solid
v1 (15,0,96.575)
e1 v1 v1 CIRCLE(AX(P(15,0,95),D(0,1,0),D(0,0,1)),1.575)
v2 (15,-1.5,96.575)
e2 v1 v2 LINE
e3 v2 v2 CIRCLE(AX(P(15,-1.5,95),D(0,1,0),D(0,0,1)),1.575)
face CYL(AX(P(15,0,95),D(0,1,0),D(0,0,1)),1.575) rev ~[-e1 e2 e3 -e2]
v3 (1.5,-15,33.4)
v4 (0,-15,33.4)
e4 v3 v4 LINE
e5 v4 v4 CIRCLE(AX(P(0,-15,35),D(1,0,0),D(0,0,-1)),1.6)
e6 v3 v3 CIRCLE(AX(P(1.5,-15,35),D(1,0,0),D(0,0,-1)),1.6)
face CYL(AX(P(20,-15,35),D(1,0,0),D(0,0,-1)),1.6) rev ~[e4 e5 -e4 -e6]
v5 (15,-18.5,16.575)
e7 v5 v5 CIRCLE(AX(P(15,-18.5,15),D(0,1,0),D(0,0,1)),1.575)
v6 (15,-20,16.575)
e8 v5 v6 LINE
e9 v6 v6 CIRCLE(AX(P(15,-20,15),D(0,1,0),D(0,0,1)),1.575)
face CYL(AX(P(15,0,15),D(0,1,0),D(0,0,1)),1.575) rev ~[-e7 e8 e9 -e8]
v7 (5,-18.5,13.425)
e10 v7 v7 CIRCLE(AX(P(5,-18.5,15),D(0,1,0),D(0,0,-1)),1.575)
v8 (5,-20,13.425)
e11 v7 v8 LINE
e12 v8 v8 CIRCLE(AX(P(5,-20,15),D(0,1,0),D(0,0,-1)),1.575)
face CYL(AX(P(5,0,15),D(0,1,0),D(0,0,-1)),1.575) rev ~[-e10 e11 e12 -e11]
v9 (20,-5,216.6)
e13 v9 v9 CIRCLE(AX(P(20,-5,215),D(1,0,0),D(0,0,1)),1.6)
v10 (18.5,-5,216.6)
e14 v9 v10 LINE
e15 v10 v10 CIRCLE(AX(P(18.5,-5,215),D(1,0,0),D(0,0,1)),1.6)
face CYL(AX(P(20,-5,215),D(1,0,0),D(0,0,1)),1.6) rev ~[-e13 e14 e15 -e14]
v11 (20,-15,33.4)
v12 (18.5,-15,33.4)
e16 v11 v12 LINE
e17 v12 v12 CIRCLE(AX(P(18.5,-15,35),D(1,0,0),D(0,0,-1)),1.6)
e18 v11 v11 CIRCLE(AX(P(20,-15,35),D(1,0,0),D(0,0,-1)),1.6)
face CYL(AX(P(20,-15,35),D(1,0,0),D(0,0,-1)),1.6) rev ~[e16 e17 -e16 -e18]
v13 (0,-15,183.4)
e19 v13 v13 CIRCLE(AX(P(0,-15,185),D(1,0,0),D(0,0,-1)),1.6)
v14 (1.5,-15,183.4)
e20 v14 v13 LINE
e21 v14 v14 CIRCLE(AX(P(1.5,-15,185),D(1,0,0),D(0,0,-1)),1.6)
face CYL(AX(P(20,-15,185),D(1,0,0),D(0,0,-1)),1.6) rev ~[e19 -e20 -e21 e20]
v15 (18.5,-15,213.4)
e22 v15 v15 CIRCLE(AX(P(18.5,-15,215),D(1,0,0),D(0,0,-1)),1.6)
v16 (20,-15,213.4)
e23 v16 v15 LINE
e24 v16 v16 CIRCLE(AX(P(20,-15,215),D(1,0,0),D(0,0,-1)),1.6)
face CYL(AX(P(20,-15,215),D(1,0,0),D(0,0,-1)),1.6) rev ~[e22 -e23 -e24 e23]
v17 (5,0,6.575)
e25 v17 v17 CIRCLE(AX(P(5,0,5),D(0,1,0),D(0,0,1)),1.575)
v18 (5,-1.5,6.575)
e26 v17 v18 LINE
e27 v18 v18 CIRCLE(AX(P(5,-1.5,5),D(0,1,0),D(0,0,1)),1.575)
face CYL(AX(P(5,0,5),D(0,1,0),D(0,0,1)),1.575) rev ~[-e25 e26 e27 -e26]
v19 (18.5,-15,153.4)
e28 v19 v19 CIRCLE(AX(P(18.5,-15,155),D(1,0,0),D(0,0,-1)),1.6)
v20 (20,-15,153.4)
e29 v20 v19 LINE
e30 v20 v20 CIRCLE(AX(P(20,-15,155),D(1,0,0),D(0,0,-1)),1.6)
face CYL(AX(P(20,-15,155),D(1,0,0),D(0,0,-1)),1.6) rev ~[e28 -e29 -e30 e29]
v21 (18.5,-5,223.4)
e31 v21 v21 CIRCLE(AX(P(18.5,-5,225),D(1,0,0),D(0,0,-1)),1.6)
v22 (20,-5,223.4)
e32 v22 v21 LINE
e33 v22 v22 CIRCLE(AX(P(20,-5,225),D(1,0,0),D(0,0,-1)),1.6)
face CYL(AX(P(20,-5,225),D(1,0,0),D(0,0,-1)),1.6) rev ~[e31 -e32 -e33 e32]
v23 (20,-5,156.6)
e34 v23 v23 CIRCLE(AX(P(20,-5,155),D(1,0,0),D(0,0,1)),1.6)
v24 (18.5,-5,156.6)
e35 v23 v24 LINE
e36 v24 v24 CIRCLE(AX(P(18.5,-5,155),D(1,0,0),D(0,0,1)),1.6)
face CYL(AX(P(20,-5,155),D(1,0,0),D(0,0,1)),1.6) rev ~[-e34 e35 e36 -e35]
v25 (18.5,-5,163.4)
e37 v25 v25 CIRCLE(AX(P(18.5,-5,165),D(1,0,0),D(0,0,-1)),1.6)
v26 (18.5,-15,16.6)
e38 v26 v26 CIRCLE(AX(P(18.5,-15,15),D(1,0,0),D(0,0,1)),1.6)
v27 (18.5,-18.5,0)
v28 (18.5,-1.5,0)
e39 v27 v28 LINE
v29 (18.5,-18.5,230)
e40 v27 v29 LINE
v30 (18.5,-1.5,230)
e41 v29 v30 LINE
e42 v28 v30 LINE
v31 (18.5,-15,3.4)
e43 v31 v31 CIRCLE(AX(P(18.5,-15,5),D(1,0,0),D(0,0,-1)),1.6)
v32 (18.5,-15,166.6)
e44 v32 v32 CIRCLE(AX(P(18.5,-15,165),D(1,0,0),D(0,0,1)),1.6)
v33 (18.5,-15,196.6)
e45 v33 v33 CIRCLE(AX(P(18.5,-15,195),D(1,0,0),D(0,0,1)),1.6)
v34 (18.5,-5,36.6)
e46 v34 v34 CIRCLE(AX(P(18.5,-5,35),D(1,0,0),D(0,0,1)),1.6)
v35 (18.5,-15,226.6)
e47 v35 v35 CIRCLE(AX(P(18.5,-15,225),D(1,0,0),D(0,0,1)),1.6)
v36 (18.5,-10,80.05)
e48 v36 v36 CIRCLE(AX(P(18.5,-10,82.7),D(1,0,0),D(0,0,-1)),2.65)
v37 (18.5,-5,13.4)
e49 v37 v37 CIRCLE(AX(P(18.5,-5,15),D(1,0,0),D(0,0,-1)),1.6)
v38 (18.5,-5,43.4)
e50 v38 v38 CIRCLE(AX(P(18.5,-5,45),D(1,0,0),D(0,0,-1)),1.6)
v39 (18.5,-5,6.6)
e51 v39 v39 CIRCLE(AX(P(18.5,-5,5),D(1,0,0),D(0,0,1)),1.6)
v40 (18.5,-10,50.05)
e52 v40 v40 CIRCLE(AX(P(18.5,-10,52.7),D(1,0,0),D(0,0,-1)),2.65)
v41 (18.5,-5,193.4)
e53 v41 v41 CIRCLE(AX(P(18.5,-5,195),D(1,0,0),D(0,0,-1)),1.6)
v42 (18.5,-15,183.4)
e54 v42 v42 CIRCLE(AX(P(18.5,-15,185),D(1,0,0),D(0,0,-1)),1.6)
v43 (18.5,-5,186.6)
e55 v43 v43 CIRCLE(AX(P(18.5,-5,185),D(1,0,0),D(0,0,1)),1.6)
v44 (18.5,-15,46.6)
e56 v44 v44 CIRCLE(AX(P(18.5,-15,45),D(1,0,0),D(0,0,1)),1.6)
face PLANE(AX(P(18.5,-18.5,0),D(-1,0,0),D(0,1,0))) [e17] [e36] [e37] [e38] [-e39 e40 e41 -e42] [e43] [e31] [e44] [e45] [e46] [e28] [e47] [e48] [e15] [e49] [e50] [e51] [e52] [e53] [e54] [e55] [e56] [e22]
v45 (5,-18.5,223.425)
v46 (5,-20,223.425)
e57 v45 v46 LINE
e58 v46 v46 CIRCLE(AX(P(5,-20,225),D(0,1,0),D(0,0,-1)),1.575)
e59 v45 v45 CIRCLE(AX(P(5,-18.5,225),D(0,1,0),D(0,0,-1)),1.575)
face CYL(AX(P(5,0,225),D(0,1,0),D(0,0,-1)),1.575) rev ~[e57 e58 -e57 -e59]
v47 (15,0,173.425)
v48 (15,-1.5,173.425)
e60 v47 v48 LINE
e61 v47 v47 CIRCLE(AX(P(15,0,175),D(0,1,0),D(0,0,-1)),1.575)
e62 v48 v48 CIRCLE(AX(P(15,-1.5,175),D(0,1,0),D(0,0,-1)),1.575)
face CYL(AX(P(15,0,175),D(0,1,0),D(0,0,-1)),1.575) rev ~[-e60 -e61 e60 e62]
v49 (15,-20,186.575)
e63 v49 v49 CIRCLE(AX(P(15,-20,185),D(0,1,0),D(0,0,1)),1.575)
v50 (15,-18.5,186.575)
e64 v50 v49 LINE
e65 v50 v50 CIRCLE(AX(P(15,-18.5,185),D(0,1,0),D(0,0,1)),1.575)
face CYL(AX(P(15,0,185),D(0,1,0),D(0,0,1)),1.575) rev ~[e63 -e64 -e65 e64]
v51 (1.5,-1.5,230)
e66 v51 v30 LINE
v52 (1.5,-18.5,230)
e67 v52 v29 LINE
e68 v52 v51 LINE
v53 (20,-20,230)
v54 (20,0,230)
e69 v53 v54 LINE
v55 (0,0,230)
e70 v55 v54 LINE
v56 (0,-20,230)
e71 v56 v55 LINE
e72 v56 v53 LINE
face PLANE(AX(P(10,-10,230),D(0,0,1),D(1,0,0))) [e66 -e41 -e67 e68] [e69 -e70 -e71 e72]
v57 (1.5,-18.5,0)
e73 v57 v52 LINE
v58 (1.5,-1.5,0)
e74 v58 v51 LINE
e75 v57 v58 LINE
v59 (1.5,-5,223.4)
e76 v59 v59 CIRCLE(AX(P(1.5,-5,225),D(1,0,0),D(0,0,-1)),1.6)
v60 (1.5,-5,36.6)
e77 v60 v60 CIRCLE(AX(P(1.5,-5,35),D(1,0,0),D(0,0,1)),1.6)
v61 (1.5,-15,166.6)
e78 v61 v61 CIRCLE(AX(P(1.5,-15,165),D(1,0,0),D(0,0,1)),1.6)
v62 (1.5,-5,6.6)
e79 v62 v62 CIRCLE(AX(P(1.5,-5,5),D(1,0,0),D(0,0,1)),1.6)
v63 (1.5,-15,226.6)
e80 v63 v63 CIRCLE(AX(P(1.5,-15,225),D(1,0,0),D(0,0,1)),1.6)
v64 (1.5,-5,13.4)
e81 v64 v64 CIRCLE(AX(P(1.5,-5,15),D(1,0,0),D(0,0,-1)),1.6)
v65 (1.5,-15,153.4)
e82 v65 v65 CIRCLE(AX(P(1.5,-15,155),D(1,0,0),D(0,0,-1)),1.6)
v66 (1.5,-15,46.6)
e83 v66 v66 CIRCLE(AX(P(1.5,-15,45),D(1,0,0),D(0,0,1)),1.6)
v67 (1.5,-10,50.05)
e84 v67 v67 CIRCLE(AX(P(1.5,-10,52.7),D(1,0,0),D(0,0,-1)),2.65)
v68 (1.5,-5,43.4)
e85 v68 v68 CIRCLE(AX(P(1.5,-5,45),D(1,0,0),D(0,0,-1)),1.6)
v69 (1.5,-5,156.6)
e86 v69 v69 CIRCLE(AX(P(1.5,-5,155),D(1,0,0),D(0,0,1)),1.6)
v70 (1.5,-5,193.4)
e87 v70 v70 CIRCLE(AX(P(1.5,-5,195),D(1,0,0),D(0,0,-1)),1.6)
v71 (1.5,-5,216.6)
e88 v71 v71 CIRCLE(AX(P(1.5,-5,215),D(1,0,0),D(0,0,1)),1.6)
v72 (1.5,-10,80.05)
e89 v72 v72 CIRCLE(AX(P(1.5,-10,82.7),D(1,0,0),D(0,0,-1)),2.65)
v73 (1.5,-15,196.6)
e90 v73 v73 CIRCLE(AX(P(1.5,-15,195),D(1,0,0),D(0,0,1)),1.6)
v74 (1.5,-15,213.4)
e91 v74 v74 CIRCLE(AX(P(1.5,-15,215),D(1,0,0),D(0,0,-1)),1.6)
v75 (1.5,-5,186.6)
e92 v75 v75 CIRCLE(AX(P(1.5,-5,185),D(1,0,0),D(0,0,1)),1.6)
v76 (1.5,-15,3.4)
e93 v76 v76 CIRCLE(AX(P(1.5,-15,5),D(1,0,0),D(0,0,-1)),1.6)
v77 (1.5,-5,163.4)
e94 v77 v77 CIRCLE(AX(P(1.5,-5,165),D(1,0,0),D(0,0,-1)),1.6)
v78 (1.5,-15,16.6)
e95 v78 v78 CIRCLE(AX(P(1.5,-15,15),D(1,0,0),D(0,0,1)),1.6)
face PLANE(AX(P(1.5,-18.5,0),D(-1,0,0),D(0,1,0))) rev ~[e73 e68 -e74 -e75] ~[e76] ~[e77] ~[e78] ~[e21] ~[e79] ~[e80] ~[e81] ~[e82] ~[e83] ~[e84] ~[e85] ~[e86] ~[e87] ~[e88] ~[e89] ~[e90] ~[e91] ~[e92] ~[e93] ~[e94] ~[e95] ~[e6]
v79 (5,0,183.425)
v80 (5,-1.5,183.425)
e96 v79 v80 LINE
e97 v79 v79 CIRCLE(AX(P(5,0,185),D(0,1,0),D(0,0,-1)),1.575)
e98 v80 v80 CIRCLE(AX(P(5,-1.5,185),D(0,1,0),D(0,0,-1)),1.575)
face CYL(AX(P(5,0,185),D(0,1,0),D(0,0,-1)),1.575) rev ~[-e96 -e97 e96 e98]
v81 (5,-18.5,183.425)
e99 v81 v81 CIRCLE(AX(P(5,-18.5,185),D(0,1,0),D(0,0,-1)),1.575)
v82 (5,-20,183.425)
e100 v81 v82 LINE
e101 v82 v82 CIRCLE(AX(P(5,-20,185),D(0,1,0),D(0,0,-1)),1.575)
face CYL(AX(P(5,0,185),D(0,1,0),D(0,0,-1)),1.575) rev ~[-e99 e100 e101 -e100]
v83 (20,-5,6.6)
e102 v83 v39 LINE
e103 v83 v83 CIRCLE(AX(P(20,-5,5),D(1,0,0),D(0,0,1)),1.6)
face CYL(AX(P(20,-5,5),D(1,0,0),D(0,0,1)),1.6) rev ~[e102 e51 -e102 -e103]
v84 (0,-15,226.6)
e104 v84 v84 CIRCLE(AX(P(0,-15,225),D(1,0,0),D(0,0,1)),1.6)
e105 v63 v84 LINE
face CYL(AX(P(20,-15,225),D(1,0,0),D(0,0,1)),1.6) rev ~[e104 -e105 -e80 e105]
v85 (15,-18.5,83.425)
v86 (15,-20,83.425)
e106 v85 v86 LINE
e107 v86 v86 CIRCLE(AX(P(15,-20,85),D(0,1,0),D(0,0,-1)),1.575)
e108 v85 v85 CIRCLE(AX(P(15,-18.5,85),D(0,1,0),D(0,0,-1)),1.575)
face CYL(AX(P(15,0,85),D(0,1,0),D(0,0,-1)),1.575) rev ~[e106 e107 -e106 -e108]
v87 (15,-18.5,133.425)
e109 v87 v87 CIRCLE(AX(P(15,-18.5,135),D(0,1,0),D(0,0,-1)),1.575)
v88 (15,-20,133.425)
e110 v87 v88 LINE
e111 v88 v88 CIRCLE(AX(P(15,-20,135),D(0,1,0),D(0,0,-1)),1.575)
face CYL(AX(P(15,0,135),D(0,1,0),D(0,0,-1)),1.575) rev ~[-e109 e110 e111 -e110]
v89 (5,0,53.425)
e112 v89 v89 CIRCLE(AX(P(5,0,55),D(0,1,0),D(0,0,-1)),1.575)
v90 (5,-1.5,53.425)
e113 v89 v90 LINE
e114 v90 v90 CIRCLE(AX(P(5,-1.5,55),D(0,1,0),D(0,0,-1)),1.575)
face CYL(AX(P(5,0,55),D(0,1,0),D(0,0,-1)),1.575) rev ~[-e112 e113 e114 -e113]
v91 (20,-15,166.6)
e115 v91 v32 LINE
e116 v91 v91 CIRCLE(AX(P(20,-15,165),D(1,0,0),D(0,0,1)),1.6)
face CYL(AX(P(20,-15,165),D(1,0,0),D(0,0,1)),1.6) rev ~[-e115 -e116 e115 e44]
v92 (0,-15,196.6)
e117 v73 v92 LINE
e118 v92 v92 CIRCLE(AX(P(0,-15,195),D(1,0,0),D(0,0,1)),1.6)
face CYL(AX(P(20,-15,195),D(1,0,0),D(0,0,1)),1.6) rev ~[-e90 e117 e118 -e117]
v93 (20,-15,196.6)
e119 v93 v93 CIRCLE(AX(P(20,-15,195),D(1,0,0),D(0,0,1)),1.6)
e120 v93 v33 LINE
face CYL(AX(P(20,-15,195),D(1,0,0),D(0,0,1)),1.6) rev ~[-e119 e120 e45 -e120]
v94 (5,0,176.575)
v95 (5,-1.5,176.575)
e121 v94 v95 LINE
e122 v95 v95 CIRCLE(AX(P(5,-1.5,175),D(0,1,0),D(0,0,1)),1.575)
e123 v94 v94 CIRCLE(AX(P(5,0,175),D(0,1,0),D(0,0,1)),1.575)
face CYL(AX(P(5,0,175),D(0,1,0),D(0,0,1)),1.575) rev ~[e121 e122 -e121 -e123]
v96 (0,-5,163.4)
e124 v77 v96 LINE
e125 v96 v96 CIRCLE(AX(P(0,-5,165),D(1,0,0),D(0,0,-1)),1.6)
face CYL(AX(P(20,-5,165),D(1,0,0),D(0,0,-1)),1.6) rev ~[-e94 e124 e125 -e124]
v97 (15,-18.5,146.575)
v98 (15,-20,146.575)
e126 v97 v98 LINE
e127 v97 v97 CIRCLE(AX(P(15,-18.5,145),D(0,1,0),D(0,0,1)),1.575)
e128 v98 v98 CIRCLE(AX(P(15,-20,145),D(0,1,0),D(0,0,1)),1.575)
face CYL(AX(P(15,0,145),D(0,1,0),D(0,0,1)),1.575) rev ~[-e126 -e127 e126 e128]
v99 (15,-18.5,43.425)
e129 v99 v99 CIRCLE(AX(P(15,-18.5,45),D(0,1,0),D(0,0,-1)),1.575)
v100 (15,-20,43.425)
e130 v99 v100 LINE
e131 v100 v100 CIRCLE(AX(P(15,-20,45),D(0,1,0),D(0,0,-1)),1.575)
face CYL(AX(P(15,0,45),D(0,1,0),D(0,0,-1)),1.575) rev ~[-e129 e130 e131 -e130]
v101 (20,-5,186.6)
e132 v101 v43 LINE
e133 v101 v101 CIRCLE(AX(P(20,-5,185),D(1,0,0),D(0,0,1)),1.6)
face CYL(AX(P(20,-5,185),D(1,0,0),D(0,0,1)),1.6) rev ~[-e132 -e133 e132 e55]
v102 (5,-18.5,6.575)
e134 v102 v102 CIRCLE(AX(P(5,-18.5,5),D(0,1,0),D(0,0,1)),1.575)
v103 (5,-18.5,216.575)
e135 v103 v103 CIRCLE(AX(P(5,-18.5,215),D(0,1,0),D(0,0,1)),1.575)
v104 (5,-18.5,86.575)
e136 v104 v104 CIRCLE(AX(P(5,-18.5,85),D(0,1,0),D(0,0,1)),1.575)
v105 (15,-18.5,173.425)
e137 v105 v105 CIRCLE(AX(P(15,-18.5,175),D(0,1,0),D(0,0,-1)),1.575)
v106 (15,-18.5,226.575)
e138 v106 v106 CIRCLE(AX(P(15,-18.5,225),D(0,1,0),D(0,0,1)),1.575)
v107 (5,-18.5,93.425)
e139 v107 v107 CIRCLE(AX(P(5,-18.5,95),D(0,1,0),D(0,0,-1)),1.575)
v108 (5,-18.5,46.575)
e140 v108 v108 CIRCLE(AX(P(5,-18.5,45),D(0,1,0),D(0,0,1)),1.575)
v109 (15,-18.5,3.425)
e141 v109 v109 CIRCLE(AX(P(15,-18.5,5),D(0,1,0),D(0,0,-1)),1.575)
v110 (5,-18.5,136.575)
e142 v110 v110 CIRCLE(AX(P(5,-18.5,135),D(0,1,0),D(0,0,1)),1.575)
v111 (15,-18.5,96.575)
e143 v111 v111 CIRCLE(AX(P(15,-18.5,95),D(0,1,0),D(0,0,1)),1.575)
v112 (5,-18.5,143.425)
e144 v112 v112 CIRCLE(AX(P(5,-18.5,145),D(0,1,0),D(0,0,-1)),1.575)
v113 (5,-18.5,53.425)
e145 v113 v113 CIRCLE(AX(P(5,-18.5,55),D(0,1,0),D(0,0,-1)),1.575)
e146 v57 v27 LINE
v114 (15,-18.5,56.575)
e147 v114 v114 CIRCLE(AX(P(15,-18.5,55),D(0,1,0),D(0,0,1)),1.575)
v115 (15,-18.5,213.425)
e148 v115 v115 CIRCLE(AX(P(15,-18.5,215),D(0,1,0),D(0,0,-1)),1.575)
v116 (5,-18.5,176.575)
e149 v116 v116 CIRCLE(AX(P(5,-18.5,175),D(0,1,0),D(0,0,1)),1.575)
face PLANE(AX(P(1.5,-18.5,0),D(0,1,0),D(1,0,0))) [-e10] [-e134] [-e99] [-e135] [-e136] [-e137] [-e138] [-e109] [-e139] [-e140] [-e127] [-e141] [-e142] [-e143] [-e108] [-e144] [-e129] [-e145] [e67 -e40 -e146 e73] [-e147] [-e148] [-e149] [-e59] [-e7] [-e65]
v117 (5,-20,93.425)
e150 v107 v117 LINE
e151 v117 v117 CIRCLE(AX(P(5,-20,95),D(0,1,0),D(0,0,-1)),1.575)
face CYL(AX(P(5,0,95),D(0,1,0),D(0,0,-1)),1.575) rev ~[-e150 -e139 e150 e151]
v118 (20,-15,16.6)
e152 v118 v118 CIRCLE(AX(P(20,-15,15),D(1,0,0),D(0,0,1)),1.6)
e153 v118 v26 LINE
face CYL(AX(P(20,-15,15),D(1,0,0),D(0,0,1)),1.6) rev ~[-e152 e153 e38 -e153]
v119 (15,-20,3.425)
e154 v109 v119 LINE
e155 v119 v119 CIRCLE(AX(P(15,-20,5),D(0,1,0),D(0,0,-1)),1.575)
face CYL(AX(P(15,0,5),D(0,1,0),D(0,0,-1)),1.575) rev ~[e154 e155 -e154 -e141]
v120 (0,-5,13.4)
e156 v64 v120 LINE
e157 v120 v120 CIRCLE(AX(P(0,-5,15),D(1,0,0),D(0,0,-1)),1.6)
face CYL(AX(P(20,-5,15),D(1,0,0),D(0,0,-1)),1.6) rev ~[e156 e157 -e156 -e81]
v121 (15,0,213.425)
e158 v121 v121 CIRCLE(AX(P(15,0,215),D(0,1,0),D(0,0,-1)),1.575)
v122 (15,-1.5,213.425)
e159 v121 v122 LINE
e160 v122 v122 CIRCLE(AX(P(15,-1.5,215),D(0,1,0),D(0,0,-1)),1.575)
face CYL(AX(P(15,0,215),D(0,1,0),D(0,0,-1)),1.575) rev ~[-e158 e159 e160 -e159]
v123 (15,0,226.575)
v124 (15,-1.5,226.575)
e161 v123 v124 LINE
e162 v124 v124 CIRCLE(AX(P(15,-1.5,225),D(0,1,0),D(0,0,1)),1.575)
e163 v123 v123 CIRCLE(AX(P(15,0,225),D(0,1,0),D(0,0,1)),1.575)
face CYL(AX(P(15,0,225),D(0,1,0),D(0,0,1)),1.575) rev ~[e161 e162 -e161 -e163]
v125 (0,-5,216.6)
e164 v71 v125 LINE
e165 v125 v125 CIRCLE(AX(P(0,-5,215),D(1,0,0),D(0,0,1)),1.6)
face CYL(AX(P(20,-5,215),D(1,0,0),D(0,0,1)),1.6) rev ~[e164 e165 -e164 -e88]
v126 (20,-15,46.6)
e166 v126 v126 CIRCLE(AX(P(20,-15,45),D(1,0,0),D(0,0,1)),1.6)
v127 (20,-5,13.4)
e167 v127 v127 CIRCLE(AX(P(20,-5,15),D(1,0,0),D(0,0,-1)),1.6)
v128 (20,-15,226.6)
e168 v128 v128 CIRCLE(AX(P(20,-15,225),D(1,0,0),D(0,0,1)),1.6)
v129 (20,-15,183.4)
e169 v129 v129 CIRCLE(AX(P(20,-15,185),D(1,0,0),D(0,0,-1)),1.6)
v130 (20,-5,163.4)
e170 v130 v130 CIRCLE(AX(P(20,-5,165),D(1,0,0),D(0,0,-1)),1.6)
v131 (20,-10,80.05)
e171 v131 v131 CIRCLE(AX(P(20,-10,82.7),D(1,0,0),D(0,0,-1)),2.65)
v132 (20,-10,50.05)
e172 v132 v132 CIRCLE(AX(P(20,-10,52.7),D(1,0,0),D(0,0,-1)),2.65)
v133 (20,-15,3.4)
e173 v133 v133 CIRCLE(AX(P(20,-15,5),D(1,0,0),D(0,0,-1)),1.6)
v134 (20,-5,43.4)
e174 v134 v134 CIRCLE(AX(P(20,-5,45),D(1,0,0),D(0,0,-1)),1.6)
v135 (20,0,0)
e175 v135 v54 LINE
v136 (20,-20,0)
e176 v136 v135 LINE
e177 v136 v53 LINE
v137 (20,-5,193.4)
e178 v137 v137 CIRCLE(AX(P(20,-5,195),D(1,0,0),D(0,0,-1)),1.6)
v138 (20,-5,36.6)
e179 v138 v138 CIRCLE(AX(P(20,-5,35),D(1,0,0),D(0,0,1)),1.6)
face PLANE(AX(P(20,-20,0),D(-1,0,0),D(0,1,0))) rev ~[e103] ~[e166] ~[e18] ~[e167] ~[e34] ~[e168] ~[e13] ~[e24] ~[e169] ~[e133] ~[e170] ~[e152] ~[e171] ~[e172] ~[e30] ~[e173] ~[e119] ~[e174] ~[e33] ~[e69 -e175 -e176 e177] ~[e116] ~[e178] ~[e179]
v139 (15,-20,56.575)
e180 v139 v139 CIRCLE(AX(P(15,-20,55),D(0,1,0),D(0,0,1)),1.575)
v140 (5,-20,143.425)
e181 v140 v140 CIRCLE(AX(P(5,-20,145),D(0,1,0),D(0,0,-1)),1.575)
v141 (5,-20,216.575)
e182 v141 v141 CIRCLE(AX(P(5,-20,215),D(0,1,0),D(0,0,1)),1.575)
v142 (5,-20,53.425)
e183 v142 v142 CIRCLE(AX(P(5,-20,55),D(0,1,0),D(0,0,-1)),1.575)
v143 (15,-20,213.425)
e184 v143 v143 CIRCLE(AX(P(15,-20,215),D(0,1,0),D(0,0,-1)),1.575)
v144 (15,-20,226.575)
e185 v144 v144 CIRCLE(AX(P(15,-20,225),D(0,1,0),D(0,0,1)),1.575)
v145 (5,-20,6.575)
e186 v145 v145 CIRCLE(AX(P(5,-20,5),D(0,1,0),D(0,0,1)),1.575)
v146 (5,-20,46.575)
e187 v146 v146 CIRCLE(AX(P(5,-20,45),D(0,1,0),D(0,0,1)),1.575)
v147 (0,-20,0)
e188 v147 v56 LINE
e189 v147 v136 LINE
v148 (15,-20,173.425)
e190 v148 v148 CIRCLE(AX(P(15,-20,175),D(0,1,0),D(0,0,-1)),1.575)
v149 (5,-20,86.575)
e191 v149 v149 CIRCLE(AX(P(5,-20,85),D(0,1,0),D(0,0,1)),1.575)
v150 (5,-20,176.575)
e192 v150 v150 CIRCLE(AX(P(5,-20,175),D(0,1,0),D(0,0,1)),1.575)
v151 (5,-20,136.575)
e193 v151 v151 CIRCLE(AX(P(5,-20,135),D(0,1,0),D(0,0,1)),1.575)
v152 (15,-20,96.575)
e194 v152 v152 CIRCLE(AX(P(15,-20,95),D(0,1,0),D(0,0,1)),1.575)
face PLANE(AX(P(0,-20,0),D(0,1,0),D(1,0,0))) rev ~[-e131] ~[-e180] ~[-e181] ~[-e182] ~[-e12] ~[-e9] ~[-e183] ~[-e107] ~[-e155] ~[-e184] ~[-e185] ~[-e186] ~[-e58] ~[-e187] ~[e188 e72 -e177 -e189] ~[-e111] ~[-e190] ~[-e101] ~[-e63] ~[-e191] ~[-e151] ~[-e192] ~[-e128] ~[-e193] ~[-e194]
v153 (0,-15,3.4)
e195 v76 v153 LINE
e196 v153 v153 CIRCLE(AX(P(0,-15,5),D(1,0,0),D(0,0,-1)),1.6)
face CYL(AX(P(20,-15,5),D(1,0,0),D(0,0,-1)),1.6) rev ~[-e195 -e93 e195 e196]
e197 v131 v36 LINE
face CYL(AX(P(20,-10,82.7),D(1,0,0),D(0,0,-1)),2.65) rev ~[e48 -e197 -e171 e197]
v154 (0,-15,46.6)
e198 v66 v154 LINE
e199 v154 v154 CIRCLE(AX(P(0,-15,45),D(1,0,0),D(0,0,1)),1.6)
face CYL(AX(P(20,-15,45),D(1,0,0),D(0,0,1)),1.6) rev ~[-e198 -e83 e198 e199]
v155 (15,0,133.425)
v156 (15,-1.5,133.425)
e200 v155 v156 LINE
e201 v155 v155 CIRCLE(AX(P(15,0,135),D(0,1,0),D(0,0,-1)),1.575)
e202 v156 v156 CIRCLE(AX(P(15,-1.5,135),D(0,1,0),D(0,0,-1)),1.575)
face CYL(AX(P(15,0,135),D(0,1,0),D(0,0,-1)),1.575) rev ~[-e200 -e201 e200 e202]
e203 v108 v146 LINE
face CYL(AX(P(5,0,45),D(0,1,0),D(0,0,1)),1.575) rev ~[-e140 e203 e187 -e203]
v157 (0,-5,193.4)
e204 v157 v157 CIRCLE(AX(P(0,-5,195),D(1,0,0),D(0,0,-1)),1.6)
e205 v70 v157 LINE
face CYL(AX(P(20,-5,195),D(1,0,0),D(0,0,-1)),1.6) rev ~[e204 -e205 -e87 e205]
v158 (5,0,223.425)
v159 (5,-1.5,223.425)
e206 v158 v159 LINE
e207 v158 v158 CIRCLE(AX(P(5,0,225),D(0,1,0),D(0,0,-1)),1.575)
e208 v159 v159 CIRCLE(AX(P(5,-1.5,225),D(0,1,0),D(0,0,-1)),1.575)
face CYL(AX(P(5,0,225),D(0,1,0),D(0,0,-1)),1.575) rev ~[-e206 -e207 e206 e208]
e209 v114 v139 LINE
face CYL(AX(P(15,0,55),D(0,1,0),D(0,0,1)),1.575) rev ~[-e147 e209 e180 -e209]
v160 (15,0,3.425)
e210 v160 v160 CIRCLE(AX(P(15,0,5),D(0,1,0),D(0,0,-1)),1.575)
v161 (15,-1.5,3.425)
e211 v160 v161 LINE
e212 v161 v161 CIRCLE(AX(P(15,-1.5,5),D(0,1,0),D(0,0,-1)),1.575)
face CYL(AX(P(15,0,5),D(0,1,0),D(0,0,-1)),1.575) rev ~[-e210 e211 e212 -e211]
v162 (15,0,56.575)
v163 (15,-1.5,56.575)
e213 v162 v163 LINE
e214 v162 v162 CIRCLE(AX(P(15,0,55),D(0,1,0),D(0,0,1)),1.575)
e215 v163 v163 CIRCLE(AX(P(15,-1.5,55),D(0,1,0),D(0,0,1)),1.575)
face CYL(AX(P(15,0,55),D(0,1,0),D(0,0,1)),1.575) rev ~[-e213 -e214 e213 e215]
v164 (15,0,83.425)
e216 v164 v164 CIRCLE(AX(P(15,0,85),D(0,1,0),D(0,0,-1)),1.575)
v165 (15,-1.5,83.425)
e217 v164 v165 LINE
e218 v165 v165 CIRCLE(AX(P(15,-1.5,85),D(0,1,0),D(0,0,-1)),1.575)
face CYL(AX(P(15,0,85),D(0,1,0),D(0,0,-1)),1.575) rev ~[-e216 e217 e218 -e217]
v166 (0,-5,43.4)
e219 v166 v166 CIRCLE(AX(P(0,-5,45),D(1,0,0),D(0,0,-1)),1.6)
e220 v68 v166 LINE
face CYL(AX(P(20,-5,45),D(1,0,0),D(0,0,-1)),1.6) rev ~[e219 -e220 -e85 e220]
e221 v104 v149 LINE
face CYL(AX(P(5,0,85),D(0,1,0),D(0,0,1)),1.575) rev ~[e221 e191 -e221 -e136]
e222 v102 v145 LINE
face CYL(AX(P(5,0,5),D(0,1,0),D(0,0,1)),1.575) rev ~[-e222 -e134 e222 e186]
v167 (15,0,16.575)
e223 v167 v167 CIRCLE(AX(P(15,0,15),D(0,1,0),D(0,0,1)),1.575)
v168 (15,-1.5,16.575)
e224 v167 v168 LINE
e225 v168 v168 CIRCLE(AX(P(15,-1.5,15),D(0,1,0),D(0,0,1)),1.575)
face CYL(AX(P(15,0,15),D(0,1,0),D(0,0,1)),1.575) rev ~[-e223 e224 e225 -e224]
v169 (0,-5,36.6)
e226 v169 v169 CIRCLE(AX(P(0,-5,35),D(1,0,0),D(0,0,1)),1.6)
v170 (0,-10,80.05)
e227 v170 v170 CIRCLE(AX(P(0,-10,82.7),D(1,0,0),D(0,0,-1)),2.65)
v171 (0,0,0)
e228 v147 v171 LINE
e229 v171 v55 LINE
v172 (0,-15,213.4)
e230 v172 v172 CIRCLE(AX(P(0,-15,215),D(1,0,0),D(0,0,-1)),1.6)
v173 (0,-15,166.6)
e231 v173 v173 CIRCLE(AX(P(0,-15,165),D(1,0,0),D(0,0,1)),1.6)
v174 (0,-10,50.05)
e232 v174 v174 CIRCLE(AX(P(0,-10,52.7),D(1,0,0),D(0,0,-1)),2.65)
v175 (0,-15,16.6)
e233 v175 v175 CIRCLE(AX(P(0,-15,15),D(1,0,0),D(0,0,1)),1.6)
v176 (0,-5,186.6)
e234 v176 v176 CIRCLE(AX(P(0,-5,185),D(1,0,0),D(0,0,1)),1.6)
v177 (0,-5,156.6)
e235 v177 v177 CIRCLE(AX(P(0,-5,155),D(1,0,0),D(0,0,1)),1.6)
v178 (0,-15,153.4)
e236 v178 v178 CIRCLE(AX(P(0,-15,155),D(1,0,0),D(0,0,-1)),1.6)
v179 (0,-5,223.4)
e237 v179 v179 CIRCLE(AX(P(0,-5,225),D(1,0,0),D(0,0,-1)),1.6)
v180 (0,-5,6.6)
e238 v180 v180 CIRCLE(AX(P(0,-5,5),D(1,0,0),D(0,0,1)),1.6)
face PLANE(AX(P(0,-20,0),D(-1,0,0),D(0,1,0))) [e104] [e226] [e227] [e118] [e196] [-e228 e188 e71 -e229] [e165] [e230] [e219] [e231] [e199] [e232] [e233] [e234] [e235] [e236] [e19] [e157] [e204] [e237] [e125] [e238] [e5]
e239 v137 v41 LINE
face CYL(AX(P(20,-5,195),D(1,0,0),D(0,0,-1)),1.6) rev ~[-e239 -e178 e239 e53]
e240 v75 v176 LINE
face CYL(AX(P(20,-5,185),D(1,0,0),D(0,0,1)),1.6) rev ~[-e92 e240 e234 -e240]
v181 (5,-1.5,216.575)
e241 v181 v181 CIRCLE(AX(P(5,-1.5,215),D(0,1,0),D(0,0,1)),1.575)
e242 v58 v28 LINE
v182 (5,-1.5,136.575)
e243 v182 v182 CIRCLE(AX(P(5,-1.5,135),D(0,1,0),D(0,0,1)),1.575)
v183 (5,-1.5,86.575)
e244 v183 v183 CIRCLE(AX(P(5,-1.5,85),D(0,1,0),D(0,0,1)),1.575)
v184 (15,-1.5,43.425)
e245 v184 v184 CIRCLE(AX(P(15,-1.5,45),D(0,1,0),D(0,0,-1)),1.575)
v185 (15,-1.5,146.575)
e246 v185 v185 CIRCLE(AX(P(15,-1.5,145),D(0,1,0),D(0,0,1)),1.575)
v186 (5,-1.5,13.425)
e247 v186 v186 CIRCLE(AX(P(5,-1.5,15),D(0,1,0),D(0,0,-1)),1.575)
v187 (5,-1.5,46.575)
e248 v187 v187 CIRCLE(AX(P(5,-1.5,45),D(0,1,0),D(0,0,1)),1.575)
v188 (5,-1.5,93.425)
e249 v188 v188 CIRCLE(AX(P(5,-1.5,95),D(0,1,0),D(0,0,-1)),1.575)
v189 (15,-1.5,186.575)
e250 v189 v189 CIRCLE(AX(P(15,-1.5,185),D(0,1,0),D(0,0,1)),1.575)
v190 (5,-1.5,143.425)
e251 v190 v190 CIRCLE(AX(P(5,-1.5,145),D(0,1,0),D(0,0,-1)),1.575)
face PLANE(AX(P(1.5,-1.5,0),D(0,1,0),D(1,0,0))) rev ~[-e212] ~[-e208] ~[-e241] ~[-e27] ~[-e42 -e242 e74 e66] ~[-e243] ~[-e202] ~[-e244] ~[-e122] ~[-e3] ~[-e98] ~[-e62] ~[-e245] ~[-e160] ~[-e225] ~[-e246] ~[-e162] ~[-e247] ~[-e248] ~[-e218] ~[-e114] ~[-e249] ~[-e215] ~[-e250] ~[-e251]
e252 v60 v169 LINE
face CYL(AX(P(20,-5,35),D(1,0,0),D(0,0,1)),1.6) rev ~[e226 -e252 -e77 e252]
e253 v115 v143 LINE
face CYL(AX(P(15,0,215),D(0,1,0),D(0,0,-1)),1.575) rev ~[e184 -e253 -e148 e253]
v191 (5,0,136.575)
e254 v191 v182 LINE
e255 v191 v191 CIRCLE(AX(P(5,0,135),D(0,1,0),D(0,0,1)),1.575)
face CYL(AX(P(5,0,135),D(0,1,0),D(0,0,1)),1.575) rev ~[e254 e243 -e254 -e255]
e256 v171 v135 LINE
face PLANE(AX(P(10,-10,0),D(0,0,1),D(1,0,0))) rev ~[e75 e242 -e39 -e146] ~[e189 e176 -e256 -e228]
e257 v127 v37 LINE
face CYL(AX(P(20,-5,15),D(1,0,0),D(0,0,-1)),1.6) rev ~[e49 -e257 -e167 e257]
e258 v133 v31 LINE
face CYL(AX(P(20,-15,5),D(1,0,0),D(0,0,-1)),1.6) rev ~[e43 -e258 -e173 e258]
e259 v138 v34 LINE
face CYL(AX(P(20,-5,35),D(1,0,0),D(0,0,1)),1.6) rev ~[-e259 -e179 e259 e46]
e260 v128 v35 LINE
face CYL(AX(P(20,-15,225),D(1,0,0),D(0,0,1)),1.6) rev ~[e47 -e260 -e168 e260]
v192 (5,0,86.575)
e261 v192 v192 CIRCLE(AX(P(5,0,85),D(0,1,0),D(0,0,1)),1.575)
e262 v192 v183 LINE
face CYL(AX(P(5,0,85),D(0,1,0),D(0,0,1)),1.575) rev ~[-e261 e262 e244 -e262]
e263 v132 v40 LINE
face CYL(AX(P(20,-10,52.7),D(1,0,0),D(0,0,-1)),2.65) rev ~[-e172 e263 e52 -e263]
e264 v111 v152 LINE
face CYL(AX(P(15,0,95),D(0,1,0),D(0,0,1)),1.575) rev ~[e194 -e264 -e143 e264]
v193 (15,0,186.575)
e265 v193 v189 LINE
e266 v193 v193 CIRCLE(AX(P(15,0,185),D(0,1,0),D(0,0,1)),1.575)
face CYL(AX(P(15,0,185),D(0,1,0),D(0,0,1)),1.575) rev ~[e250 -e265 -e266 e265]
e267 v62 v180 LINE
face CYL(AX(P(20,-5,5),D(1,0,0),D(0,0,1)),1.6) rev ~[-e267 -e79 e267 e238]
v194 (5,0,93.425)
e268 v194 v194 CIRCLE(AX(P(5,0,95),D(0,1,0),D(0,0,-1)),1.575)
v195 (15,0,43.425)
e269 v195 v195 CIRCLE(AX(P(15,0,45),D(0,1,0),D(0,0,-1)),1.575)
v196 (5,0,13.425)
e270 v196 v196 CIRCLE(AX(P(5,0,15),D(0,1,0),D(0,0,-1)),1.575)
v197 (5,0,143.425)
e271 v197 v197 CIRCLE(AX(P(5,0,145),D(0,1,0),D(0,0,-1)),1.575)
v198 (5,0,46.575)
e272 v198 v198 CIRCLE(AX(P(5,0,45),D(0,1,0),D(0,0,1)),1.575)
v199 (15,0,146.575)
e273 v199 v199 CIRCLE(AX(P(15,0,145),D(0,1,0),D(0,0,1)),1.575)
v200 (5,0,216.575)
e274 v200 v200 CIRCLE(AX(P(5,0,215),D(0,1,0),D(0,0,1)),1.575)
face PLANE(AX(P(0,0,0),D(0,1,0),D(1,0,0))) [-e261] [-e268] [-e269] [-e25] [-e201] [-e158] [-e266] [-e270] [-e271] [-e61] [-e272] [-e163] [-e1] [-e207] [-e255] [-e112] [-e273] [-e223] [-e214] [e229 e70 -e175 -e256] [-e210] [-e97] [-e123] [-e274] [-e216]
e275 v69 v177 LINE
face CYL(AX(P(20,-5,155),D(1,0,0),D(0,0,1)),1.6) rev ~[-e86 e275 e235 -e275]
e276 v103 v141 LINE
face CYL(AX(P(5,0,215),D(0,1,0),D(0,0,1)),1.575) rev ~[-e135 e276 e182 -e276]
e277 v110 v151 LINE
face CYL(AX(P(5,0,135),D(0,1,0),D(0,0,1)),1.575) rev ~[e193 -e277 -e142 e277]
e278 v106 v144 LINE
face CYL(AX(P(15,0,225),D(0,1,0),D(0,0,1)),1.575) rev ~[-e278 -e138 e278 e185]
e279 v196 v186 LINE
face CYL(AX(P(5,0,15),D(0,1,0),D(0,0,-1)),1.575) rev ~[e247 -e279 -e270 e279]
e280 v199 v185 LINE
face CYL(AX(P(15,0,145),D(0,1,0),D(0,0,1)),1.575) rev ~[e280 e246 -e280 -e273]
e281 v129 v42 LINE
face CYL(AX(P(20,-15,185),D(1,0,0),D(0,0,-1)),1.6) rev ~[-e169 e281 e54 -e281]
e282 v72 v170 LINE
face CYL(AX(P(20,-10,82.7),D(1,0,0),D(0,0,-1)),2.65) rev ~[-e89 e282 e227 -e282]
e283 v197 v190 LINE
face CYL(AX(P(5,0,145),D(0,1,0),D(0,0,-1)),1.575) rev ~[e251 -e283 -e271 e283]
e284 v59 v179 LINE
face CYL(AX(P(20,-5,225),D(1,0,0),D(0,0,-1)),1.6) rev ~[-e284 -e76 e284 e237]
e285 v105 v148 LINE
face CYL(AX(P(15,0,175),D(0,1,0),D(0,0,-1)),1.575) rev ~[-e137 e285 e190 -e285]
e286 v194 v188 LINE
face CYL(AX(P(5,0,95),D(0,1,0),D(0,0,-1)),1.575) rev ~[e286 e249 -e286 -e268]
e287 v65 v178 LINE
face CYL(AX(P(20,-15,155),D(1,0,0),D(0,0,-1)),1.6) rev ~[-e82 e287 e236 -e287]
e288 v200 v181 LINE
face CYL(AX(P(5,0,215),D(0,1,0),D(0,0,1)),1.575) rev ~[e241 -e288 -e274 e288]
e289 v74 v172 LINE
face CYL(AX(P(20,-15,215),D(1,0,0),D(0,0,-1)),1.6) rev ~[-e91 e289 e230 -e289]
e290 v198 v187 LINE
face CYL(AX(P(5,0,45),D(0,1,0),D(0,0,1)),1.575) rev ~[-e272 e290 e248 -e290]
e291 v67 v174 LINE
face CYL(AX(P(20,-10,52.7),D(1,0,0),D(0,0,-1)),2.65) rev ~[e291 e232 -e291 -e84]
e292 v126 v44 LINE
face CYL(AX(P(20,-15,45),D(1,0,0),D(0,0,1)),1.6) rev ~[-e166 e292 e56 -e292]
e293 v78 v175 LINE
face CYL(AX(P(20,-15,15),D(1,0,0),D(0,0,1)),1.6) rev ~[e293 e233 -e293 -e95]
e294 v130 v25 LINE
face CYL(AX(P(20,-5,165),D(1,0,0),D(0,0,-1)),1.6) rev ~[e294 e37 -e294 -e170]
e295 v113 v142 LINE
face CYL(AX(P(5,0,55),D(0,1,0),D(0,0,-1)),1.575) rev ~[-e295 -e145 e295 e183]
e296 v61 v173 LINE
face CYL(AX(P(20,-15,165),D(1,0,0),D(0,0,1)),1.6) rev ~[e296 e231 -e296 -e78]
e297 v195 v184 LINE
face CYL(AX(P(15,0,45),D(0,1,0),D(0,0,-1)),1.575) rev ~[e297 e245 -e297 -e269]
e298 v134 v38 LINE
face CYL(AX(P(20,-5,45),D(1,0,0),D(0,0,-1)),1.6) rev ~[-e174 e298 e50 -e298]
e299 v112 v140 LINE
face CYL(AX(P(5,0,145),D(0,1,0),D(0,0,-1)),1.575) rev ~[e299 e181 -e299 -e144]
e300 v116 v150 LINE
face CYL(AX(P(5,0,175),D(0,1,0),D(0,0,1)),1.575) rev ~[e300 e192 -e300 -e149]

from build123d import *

# Parameters (mm, degrees)
SKETCH_1_W          = 20
SKETCH_1_H          = 20
SKETCH_1_W_2        = 17
SKETCH_1_H_2        = 17
EXTRUDE_1_DEPTH     = 230
SKETCH_2_R          = 2.65
SKETCH_2_R_2        = 1.6
CUT_EXTRUDE_1_DEPTH = 232.732604525
SKETCH_3_R          = 1.575
CUT_EXTRUDE_2_DEPTH = 232.732604525


with BuildPart() as part:
    # 草图1 → 拉伸-薄壁1 (new body)
    with BuildSketch(Plane.XY):
        with Locations((10, -10)):
            Rectangle(SKETCH_1_W, SKETCH_1_H)
        with Locations((10, -10)):
            Rectangle(SKETCH_1_W_2, SKETCH_1_H_2, mode=Mode.SUBTRACT)
    extrude(amount=EXTRUDE_1_DEPTH)

    # 草图2 → 切除-拉伸1 (cut, through all)
    with BuildSketch(Plane(origin=(20, 0, 0), x_dir=(0, 0, -1), z_dir=(1, 0, 0))):
        with Locations((-82.7, -10)):
            Circle(SKETCH_2_R)
        with Locations((-52.7, -10)):
            Circle(SKETCH_2_R)
        with Locations((-225, -5)):
            Circle(SKETCH_2_R_2)
        with Locations(Location((-225, -15, 0), (0, 0, 180))):
            Circle(SKETCH_2_R_2)
        with Locations((-215, -15)):
            Circle(SKETCH_2_R_2)
        with Locations(Location((-215, -5, 0), (0, 0, 180))):
            Circle(SKETCH_2_R_2)
        with Locations((-195, -5)):
            Circle(SKETCH_2_R_2)
        with Locations(Location((-185, -5, 0), (0, 0, 180))):
            Circle(SKETCH_2_R_2)
        with Locations((-185, -15)):
            Circle(SKETCH_2_R_2)
        with Locations(Location((-195, -15, 0), (0, 0, 180))):
            Circle(SKETCH_2_R_2)
        with Locations((-165, -5)):
            Circle(SKETCH_2_R_2)
        with Locations(Location((-155, -5, 0), (0, 0, 180))):
            Circle(SKETCH_2_R_2)
        with Locations((-155, -15)):
            Circle(SKETCH_2_R_2)
        with Locations(Location((-165, -15, 0), (0, 0, 180))):
            Circle(SKETCH_2_R_2)
        with Locations((-35, -15)):
            Circle(SKETCH_2_R_2)
        with Locations(Location((-45, -15, 0), (0, 0, 180))):
            Circle(SKETCH_2_R_2)
        with Locations((-45, -5)):
            Circle(SKETCH_2_R_2)
        with Locations(Location((-35, -5, 0), (0, 0, 180))):
            Circle(SKETCH_2_R_2)
        with Locations((-15, -5)):
            Circle(SKETCH_2_R_2)
        with Locations(Location((-15, -15, 0), (0, 0, 180))):
            Circle(SKETCH_2_R_2)
        with Locations((-5, -15)):
            Circle(SKETCH_2_R_2)
        with Locations(Location((-5, -5, 0), (0, 0, 180))):
            Circle(SKETCH_2_R_2)
    extrude(amount=-CUT_EXTRUDE_1_DEPTH, mode=Mode.SUBTRACT)

    # 草图3 → 切除-拉伸2 (cut, through all)
    with BuildSketch(Plane(origin=(0, 0, 0), x_dir=(1, 0, 0), z_dir=(0, 1, 0))):
        with Locations(Location((5, -5, 0), (0, 0, 270))):
            Circle(SKETCH_3_R)
        with Locations(Location((15, -5, 0), (0, 0, 90))):
            Circle(SKETCH_3_R)
        with Locations(Location((15, -15, 0), (0, 0, 270))):
            Circle(SKETCH_3_R)
        with Locations(Location((5, -15, 0), (0, 0, 90))):
            Circle(SKETCH_3_R)
        with Locations(Location((5, -215, 0), (0, 0, 270))):
            Circle(SKETCH_3_R)
        with Locations(Location((15, -215, 0), (0, 0, 90))):
            Circle(SKETCH_3_R)
        with Locations(Location((15, -225, 0), (0, 0, 270))):
            Circle(SKETCH_3_R)
        with Locations(Location((5, -225, 0), (0, 0, 90))):
            Circle(SKETCH_3_R)
        with Locations(Location((5, -45, 0), (0, 0, 270))):
            Circle(SKETCH_3_R)
        with Locations(Location((15, -45, 0), (0, 0, 90))):
            Circle(SKETCH_3_R)
        with Locations(Location((15, -55, 0), (0, 0, 270))):
            Circle(SKETCH_3_R)
        with Locations(Location((5, -55, 0), (0, 0, 90))):
            Circle(SKETCH_3_R)
        with Locations(Location((5, -85, 0), (0, 0, 270))):
            Circle(SKETCH_3_R)
        with Locations(Location((15, -85, 0), (0, 0, 90))):
            Circle(SKETCH_3_R)
        with Locations(Location((15, -95, 0), (0, 0, 270))):
            Circle(SKETCH_3_R)
        with Locations(Location((5, -95, 0), (0, 0, 90))):
            Circle(SKETCH_3_R)
        with Locations(Location((5, -135, 0), (0, 0, 270))):
            Circle(SKETCH_3_R)
        with Locations(Location((15, -135, 0), (0, 0, 90))):
            Circle(SKETCH_3_R)
        with Locations(Location((15, -145, 0), (0, 0, 270))):
            Circle(SKETCH_3_R)
        with Locations(Location((5, -145, 0), (0, 0, 90))):
            Circle(SKETCH_3_R)
        with Locations(Location((5, -175, 0), (0, 0, 270))):
            Circle(SKETCH_3_R)
        with Locations(Location((15, -175, 0), (0, 0, 90))):
            Circle(SKETCH_3_R)
        with Locations(Location((15, -185, 0), (0, 0, 270))):
            Circle(SKETCH_3_R)
        with Locations(Location((5, -185, 0), (0, 0, 90))):
            Circle(SKETCH_3_R)
    extrude(amount=-CUT_EXTRUDE_2_DEPTH, mode=Mode.SUBTRACT)


solid = part.part
